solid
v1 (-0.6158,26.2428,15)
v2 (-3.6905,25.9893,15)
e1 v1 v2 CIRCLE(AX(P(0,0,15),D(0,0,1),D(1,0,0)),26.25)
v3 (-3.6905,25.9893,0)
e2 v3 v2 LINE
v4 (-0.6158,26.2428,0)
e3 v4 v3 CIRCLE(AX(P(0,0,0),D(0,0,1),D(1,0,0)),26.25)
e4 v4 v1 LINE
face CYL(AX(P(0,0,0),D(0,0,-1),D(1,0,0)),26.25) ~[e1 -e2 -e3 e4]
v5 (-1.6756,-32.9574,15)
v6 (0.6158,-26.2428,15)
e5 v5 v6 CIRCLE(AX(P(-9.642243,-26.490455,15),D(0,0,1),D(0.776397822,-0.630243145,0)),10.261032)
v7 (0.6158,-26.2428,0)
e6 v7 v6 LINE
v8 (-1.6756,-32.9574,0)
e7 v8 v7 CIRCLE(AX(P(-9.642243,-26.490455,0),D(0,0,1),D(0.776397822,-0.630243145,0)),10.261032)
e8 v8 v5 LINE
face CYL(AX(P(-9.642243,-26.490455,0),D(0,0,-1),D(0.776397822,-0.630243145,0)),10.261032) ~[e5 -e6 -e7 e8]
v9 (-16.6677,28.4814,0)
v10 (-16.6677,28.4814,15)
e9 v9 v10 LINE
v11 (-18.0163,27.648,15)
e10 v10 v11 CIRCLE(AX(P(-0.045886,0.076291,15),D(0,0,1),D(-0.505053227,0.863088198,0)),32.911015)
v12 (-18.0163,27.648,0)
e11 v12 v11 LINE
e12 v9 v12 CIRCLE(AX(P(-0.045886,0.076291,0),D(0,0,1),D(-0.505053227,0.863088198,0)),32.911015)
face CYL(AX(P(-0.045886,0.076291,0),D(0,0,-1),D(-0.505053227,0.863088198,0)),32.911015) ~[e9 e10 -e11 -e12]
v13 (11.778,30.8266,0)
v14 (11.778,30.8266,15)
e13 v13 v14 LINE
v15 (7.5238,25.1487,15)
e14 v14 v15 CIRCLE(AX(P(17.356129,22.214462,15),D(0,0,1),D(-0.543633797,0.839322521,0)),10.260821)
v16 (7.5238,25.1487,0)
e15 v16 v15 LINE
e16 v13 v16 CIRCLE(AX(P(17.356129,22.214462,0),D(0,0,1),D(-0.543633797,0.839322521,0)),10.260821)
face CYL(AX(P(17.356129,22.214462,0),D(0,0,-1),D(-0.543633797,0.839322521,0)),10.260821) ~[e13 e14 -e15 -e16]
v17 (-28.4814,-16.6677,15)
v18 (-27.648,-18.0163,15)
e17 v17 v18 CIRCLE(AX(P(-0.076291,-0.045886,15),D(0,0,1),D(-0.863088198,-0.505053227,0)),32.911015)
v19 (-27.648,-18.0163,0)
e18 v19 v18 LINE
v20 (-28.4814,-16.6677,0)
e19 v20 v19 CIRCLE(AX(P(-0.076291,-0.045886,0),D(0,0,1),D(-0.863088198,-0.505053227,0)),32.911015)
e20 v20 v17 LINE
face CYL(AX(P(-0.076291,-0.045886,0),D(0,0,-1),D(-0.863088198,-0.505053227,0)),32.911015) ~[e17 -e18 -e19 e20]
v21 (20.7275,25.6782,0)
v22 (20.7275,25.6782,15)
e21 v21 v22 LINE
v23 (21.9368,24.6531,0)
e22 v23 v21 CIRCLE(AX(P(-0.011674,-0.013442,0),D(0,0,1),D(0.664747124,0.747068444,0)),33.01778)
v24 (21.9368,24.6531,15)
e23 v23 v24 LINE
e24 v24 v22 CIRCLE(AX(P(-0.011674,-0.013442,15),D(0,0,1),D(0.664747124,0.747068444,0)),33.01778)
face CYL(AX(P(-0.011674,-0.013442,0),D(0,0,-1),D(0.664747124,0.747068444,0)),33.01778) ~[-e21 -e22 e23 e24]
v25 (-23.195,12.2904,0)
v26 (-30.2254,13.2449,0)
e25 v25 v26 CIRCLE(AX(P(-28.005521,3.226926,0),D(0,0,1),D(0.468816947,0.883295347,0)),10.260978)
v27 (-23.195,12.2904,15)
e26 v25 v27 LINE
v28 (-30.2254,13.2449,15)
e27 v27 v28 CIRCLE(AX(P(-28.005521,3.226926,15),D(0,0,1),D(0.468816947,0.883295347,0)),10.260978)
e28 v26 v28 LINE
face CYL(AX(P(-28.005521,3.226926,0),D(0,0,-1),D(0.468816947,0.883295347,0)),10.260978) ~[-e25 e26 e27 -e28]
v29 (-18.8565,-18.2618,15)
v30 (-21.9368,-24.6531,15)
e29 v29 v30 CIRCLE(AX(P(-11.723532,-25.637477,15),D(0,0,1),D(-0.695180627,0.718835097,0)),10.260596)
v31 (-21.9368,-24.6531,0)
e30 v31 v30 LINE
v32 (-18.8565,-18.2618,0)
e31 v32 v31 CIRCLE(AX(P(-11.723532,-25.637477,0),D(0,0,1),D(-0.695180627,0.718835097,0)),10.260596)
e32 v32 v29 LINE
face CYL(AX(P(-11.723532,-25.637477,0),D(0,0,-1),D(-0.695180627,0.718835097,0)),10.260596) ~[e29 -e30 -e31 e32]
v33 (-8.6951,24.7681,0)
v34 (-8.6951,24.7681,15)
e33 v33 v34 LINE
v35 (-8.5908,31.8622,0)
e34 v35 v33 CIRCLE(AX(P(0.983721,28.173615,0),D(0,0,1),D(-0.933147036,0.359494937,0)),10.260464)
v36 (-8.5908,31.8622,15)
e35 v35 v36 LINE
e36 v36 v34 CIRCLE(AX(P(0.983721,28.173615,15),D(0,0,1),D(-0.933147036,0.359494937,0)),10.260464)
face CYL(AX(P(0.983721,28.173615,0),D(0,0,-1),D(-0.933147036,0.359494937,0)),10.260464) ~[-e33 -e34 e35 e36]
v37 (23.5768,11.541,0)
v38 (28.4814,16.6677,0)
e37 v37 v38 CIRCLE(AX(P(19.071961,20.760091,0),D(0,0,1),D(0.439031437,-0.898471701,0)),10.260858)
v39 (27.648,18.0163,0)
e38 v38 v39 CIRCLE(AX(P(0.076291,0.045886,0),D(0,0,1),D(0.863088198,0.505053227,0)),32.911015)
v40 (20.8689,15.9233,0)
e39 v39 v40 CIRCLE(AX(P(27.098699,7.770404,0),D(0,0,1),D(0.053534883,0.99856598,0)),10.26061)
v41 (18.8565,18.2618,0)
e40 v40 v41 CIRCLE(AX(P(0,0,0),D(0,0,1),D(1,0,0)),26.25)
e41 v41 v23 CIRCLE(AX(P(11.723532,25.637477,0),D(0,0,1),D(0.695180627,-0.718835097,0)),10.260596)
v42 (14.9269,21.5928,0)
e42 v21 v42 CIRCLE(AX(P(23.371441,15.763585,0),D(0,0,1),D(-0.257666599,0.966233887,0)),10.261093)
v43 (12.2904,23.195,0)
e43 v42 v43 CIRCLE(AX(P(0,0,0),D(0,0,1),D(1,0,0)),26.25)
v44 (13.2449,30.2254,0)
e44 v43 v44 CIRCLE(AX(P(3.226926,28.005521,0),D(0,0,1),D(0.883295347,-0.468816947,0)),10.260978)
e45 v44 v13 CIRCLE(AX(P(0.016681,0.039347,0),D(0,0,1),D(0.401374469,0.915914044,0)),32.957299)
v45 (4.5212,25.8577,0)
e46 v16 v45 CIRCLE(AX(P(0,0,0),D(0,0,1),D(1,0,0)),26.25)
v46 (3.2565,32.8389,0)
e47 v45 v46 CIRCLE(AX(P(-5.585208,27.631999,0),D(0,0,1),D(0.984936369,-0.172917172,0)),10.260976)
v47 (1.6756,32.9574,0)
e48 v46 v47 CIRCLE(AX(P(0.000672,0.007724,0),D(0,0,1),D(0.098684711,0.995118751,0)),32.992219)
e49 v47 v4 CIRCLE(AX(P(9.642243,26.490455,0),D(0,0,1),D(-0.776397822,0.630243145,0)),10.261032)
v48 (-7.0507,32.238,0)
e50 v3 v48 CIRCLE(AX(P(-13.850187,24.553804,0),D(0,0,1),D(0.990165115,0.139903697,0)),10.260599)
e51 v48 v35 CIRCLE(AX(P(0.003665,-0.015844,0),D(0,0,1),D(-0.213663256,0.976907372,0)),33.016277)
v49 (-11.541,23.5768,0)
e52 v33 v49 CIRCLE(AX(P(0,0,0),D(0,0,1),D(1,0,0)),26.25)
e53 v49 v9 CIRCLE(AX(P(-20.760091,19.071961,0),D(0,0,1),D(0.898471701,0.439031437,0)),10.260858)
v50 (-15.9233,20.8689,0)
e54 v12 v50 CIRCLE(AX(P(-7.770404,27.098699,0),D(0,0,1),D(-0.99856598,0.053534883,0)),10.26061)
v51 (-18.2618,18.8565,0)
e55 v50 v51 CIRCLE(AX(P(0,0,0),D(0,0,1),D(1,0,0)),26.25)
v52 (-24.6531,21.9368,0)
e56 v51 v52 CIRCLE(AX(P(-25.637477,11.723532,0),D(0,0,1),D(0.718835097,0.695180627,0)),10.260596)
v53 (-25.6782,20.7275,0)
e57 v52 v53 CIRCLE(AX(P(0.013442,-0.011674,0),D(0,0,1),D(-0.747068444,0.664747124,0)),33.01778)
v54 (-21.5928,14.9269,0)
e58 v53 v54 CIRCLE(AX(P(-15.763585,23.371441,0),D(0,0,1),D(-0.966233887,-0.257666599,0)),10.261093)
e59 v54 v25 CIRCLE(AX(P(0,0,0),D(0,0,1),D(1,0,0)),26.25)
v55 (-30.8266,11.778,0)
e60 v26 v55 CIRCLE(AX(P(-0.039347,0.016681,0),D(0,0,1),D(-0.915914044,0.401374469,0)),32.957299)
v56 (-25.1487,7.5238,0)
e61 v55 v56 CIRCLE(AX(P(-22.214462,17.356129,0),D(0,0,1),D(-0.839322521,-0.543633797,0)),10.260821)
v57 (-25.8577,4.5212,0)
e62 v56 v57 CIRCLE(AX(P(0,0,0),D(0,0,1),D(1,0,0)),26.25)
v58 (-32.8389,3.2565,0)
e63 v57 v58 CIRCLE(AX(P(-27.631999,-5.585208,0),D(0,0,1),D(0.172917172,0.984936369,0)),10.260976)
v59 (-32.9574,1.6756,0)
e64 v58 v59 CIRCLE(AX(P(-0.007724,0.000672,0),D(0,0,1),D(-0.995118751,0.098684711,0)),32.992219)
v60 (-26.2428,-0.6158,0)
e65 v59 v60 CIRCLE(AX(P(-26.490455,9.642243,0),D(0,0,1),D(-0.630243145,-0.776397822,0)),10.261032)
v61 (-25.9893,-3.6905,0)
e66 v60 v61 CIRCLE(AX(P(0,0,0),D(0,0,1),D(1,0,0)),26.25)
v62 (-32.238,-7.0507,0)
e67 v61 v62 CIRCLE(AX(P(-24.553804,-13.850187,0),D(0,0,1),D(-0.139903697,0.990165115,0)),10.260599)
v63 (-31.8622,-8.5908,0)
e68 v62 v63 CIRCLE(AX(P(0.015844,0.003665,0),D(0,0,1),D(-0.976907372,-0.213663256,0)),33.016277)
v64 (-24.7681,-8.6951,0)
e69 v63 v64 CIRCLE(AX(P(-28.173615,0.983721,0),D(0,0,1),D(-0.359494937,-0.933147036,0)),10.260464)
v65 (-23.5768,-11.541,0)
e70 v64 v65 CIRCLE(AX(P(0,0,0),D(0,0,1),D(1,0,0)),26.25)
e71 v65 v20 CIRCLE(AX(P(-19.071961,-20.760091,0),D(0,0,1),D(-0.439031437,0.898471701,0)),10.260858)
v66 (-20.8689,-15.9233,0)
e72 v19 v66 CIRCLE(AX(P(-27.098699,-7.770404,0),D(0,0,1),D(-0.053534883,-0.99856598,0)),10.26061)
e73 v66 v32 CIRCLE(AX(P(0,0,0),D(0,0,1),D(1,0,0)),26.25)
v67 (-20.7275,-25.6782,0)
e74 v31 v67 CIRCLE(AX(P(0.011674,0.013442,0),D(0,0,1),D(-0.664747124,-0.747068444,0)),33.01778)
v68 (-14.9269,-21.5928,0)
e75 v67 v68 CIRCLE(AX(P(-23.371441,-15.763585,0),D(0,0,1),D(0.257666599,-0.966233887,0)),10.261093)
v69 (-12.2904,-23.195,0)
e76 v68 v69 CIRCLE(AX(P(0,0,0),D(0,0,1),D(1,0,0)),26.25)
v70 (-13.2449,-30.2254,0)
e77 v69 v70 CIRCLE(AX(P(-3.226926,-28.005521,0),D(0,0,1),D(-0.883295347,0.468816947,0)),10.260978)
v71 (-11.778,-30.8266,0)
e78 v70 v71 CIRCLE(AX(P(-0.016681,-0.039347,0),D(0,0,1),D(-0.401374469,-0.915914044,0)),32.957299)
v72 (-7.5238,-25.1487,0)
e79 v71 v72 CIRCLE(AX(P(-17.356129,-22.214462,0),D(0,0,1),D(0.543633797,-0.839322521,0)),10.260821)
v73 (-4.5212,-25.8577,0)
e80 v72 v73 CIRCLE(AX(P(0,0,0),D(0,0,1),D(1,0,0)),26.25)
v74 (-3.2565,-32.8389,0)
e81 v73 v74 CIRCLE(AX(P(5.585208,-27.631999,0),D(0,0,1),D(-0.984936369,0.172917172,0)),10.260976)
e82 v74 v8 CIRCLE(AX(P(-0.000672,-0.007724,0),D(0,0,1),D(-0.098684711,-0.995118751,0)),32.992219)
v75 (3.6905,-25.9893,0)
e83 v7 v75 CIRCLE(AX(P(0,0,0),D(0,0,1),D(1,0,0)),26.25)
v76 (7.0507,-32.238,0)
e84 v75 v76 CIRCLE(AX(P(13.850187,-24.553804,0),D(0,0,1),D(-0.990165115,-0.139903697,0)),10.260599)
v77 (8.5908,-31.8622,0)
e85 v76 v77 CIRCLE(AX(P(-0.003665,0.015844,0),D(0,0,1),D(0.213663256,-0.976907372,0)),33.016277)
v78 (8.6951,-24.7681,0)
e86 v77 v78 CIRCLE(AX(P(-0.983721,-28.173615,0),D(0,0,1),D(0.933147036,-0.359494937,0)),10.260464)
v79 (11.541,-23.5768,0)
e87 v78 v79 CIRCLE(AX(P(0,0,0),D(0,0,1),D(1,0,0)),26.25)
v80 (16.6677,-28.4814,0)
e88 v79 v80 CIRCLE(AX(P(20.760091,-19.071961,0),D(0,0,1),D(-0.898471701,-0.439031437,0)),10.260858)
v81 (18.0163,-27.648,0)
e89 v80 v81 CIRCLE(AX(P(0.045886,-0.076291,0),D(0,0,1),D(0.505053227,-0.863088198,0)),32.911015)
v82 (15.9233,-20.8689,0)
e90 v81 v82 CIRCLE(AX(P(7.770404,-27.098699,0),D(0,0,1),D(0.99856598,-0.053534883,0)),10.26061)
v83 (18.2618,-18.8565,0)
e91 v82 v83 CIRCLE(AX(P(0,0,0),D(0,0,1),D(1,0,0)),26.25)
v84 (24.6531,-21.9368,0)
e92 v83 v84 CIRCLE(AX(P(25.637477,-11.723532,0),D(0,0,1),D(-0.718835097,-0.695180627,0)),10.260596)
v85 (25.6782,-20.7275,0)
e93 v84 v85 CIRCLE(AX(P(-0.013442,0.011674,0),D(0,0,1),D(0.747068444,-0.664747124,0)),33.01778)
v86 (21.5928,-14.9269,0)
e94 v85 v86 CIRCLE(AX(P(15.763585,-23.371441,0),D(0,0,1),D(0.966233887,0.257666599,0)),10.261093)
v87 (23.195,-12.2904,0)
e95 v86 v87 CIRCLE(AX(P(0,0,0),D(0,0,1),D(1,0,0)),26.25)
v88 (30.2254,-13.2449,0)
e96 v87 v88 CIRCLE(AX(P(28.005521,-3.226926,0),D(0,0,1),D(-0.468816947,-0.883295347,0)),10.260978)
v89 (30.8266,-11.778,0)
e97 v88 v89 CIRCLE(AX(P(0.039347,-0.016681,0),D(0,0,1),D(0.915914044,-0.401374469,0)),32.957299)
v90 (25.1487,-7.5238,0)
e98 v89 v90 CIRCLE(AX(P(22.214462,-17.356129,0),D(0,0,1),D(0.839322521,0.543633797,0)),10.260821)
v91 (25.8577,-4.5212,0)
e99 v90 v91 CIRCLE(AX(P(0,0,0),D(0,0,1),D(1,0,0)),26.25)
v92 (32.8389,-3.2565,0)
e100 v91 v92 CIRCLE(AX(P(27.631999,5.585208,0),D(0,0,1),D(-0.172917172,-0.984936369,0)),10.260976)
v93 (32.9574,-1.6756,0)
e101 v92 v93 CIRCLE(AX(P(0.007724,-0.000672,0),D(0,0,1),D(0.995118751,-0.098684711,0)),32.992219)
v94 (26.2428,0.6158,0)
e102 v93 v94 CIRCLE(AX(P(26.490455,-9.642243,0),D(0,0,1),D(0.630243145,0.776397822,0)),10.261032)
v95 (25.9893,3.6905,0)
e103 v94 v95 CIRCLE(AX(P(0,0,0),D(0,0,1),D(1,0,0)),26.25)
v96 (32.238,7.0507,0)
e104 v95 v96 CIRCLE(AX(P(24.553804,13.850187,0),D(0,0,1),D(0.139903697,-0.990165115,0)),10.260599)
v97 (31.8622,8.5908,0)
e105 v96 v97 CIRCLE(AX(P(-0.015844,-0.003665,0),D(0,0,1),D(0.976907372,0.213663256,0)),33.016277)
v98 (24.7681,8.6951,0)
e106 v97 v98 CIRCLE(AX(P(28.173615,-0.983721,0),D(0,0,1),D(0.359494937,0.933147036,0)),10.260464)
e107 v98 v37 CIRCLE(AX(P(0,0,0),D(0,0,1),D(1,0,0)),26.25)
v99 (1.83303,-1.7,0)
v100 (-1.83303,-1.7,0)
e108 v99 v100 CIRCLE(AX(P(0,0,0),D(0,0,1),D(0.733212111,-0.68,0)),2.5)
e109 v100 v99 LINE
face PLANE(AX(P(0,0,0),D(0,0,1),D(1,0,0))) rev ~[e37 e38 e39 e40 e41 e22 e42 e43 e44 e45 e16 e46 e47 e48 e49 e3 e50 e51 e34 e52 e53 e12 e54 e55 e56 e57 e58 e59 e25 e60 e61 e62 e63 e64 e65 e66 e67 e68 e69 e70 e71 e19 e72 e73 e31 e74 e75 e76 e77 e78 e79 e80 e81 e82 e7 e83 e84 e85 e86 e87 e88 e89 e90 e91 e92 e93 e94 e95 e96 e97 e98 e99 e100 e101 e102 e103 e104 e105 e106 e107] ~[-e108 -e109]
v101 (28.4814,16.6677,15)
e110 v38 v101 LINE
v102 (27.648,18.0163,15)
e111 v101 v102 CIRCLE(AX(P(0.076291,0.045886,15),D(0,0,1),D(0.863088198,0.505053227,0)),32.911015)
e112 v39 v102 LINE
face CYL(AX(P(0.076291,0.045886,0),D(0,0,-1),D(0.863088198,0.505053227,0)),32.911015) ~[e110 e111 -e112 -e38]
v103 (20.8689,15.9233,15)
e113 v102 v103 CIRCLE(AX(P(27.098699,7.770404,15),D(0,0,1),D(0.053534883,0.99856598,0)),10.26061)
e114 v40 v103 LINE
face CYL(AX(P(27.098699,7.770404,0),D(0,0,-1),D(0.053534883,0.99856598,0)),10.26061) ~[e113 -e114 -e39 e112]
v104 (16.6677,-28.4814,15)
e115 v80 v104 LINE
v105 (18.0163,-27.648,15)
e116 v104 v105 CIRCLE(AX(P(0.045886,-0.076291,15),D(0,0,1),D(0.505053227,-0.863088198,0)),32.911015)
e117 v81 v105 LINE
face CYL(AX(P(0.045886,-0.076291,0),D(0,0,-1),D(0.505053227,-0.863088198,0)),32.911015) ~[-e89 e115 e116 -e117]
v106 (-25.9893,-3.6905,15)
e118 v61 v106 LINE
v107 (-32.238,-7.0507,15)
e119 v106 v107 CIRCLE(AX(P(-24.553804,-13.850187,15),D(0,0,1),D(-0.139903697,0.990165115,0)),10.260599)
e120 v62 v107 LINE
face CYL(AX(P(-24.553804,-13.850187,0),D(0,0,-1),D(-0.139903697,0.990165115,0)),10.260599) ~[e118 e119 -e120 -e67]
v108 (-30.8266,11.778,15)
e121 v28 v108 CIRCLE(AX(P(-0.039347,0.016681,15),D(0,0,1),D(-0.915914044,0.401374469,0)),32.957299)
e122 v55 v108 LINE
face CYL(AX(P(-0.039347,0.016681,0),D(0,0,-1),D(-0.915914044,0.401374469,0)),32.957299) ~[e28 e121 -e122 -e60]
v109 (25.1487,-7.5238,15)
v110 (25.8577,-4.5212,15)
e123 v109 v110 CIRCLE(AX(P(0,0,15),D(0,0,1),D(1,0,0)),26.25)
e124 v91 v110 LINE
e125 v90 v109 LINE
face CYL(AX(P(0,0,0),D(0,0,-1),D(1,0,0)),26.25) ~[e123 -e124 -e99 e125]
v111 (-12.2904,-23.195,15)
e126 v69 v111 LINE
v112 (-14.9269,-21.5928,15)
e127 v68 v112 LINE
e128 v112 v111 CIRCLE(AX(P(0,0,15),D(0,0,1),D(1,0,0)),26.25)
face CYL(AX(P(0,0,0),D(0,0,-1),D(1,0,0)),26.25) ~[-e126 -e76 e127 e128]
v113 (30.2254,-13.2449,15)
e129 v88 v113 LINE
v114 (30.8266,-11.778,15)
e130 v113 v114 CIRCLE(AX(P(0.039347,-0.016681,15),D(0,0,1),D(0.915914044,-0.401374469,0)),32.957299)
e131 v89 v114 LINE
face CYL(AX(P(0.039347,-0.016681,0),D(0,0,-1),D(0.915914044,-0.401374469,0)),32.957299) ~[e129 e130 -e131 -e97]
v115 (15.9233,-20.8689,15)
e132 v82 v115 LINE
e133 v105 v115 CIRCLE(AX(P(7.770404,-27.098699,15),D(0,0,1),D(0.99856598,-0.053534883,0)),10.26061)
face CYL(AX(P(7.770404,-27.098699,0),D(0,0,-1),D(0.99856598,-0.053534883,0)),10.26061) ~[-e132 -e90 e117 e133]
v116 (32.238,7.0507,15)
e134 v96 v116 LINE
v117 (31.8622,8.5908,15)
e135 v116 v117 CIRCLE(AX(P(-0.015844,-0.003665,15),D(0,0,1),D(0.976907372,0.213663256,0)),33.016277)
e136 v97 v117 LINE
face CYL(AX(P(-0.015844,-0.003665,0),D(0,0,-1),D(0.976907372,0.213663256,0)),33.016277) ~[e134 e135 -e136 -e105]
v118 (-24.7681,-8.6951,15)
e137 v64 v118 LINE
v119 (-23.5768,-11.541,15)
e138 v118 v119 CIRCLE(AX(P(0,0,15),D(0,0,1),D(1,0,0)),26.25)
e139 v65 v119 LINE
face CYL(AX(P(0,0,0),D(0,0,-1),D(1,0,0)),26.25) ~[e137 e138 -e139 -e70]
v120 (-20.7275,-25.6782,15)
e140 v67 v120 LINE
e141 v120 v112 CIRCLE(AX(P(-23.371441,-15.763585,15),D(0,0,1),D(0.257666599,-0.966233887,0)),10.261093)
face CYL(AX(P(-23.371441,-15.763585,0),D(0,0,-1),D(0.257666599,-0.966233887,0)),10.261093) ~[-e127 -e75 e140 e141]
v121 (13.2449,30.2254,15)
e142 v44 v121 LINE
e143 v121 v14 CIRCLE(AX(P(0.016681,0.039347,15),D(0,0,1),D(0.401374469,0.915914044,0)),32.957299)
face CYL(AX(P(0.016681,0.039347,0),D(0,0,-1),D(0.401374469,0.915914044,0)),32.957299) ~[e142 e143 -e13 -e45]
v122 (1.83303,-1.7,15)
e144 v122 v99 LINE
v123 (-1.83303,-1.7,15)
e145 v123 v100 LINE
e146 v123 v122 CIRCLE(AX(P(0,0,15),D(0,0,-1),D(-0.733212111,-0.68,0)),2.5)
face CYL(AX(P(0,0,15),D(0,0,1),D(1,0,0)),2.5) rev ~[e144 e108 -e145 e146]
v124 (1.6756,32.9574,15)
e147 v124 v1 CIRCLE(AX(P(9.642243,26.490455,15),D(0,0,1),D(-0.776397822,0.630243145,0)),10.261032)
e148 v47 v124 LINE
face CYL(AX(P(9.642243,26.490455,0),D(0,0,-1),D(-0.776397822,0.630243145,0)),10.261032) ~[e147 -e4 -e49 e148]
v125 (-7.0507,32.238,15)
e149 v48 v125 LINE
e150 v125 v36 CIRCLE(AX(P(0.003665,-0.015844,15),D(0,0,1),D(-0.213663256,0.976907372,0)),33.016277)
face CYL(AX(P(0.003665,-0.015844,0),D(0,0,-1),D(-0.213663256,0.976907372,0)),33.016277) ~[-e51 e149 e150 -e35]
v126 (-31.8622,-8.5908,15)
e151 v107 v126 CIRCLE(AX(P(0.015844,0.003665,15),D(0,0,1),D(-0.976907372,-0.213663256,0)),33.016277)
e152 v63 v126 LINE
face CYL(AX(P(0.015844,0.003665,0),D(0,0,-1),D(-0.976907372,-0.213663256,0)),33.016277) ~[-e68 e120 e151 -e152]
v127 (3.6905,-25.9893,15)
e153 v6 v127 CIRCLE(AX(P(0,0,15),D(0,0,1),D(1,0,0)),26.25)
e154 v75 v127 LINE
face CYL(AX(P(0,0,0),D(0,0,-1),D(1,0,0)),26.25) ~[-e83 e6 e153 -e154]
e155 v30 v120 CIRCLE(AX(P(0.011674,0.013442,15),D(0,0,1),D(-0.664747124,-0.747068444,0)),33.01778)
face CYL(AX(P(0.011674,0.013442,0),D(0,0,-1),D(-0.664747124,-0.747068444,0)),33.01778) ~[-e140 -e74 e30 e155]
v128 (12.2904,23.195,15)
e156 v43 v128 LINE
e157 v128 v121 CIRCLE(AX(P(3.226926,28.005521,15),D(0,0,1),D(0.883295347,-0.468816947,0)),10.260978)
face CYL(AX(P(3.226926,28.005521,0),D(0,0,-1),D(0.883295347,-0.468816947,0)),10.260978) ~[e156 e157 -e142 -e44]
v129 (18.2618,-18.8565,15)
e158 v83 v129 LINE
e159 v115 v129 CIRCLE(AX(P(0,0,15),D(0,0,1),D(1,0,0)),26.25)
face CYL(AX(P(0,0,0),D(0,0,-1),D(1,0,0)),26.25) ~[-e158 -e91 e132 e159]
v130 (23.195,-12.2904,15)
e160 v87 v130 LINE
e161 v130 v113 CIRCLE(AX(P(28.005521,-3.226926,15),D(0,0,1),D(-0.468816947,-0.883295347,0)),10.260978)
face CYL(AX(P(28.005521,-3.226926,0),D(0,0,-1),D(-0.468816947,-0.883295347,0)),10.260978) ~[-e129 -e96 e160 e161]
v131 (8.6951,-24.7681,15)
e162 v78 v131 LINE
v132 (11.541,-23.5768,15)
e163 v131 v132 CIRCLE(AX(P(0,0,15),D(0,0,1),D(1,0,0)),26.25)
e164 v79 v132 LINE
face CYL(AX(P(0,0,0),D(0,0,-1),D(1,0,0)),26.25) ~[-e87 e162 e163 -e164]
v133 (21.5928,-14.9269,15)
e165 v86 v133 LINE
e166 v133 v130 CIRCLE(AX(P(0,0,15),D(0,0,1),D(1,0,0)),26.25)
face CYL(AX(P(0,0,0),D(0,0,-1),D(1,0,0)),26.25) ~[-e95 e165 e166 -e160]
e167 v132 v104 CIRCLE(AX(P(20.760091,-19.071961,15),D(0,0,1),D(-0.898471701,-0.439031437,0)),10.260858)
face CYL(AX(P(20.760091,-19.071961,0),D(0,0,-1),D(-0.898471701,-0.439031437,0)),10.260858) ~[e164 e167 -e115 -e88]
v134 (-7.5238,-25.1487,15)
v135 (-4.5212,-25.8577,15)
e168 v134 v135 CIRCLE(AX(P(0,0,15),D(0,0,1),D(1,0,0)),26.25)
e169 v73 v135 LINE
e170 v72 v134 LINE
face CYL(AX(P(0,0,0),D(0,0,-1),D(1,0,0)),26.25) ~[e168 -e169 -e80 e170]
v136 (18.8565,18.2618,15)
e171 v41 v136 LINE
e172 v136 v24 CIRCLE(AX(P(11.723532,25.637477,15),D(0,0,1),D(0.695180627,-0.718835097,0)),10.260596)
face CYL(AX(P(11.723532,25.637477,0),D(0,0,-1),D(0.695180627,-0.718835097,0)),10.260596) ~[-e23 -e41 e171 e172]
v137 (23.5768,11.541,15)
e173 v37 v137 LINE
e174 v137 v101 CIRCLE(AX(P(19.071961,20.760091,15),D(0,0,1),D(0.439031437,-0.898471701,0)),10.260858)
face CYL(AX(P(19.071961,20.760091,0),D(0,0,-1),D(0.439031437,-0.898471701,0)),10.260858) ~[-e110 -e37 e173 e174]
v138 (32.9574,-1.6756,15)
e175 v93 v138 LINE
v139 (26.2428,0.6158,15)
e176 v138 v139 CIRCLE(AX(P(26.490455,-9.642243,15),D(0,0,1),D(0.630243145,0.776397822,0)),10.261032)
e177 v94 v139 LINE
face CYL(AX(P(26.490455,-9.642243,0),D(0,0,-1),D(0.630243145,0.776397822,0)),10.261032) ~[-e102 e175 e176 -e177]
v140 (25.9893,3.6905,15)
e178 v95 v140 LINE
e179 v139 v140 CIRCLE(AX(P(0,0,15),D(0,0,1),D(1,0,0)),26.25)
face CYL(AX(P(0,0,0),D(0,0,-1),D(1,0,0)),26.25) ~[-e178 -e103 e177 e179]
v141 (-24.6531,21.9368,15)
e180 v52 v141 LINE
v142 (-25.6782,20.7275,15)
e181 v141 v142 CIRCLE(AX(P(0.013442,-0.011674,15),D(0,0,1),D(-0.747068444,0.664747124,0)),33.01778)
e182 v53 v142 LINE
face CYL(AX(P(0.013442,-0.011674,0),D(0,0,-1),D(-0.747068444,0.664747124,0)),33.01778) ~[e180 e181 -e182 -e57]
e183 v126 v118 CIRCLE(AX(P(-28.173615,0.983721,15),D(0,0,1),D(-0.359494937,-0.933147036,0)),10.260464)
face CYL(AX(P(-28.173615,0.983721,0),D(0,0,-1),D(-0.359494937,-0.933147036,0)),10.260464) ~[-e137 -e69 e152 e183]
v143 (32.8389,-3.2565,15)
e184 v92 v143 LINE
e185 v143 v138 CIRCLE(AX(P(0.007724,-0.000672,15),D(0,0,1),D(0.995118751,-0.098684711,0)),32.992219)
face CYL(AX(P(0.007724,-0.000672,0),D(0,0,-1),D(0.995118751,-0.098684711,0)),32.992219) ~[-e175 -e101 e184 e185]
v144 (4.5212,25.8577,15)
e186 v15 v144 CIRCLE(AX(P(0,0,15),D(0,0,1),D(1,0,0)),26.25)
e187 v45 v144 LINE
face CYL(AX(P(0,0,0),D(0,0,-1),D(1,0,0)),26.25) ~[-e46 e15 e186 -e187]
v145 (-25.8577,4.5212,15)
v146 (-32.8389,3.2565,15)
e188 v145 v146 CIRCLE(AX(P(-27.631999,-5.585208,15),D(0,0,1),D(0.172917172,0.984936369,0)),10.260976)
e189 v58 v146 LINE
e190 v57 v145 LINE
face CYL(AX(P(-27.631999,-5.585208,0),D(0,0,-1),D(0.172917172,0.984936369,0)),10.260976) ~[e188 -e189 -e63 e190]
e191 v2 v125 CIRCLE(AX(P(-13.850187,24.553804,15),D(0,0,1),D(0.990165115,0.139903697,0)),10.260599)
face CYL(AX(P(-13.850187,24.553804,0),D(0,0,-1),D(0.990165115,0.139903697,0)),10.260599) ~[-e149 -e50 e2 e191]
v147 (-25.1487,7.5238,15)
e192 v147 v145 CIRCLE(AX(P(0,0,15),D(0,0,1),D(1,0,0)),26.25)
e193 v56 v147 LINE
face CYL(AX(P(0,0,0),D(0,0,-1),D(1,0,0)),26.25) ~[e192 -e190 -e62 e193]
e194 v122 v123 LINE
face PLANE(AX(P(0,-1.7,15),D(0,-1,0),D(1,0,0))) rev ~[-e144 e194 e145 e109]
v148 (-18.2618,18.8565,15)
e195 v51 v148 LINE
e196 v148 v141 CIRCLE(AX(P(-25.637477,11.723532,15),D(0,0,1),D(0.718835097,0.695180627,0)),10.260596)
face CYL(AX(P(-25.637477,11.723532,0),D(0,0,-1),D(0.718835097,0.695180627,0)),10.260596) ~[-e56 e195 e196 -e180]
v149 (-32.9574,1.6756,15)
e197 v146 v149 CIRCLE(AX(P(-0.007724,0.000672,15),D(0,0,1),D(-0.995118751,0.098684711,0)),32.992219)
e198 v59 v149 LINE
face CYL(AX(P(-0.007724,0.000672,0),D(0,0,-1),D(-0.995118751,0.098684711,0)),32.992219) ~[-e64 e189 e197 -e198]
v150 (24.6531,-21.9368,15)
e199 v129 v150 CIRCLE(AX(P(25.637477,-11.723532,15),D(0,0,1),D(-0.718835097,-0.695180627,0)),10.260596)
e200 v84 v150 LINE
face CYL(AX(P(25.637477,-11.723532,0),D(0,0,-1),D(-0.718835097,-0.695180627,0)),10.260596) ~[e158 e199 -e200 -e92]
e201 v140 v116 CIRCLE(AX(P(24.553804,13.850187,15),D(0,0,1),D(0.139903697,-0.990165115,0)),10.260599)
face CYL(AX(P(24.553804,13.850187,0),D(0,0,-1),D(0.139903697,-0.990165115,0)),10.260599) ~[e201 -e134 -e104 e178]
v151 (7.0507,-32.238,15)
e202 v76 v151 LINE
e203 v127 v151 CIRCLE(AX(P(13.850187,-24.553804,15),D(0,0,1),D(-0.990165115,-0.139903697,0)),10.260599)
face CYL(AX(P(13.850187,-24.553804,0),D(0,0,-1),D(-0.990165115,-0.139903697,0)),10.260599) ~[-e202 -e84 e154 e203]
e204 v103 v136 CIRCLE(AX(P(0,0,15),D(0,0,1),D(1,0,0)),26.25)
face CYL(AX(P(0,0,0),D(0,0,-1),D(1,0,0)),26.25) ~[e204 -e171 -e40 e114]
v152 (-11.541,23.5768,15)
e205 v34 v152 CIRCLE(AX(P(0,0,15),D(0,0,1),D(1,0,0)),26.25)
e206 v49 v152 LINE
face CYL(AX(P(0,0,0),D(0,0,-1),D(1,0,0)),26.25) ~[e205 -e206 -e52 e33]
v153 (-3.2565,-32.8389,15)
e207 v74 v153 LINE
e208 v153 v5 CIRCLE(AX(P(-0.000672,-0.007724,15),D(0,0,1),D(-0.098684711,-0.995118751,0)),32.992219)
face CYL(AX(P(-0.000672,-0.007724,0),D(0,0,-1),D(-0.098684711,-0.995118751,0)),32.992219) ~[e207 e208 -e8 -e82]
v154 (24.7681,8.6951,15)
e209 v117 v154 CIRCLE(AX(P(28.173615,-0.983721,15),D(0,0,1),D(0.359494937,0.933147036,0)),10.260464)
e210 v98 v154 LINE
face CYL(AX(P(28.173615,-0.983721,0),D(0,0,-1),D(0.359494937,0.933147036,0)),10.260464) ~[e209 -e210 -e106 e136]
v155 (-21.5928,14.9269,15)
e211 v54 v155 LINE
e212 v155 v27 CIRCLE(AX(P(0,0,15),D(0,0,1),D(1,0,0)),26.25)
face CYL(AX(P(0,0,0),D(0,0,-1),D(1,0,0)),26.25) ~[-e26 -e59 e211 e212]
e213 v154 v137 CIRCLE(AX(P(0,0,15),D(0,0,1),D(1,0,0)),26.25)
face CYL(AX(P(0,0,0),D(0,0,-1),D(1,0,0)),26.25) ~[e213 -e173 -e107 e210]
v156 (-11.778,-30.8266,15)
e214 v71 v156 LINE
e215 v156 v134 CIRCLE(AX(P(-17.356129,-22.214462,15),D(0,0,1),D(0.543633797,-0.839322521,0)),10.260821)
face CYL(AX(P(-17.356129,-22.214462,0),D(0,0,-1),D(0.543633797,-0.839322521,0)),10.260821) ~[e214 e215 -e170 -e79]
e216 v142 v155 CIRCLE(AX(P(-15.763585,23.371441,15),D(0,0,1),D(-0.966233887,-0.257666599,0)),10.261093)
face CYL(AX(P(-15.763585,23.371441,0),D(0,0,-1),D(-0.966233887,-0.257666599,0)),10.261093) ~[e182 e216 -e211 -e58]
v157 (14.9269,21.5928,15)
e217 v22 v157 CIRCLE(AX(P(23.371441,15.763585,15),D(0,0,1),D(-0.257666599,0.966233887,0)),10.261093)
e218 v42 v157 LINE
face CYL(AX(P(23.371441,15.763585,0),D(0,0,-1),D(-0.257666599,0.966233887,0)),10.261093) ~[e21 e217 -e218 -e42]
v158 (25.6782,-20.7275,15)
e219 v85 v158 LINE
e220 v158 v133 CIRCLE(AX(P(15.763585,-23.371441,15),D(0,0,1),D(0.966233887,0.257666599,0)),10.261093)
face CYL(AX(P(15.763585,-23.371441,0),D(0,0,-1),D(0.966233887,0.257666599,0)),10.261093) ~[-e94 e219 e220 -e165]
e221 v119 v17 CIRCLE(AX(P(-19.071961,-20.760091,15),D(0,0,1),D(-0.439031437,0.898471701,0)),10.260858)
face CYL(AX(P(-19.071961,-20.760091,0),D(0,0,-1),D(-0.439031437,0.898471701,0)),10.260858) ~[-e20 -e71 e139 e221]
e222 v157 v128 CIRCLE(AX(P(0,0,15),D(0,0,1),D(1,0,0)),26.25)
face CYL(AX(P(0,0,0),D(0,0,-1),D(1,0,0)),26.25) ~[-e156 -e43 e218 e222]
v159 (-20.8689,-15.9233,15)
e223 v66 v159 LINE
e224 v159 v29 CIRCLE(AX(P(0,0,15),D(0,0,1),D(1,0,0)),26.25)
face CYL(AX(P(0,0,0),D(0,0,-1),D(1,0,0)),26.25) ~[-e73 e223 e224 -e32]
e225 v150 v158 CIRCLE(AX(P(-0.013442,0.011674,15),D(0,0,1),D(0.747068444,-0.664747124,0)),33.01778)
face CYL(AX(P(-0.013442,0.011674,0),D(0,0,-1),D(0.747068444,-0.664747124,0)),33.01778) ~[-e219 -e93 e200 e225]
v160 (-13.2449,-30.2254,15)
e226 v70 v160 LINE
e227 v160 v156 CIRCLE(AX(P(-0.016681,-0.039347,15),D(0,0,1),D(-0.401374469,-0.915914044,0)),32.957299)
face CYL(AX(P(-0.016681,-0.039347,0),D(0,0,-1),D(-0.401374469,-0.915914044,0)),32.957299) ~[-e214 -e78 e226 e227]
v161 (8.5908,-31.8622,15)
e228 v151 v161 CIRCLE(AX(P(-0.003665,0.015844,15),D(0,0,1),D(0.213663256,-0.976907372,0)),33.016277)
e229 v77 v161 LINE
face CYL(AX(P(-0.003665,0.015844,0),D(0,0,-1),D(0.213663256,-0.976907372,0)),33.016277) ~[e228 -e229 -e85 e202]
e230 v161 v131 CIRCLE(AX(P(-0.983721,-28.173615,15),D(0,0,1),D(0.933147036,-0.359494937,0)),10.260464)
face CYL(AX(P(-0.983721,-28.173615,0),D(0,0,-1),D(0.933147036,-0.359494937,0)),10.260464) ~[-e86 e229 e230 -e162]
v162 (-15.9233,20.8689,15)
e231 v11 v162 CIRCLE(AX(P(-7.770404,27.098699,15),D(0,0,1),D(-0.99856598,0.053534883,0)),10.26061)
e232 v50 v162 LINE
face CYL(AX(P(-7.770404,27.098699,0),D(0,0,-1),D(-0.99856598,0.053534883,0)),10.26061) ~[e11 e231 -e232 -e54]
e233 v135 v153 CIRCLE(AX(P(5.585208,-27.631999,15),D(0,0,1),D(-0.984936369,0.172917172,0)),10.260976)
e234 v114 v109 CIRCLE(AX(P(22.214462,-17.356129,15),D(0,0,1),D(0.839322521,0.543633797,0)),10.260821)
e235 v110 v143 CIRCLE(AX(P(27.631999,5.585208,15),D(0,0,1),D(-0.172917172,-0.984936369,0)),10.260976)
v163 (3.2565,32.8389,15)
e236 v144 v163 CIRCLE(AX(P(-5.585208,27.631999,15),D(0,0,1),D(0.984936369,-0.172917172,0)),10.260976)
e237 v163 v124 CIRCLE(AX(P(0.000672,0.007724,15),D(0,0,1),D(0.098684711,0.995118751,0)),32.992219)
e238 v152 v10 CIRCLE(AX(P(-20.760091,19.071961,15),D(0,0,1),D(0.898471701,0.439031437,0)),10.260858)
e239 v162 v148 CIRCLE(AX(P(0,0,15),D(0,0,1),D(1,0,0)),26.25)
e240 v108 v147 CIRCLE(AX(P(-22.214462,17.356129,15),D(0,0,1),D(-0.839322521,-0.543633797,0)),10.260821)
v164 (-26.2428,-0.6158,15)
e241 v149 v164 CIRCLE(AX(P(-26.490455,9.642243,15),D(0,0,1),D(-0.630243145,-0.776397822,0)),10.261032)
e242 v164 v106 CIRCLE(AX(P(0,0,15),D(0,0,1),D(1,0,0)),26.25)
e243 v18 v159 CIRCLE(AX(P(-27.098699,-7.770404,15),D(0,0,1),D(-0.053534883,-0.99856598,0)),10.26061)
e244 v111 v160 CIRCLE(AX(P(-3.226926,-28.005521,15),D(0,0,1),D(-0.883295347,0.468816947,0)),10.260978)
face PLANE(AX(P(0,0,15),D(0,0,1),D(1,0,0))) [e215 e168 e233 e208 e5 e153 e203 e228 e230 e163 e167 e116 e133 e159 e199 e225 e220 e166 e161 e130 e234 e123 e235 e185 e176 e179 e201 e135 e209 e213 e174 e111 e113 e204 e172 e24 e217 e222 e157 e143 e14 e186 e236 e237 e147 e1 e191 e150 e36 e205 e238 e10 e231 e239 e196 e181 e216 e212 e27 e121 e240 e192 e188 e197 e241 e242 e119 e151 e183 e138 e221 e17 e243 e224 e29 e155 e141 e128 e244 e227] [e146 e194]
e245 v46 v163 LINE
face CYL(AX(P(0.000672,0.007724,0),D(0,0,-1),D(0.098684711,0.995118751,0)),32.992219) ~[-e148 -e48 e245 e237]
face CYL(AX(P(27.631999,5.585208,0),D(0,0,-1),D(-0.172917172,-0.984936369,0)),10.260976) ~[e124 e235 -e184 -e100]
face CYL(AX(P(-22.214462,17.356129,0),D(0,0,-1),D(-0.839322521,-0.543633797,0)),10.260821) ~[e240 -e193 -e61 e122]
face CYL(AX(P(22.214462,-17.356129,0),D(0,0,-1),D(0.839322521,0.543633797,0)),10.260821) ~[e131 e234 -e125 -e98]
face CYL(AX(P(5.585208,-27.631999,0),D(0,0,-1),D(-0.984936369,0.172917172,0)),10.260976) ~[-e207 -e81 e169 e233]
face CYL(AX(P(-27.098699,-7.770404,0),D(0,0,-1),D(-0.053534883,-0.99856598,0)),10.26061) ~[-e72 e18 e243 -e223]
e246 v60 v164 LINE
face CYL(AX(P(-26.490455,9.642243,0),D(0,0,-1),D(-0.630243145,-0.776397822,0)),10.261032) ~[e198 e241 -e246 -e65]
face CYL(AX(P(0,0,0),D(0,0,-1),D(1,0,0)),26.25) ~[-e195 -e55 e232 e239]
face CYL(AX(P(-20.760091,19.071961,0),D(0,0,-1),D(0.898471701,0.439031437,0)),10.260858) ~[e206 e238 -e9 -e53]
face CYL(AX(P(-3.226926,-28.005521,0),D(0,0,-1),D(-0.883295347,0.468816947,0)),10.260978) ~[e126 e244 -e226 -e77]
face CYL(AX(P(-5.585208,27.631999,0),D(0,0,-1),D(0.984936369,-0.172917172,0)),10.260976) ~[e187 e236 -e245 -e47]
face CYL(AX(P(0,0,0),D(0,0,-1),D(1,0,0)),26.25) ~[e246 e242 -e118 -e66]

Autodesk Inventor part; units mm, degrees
ref_plane "YZ Plane" through (0, 0, 0) normal (1, 0, 0) x (0, 1, 0)
ref_plane "XZ Plane" through (0, 0, 0) normal (0, 1, 0) x (-1, 0, 0)
ref_plane "XY Plane" through (0, 0, 0) normal (0, 0, 1) x (1, 0, 0)
sketch "Sketch1" plane through (0, 0, 0) normal (0, 0, 1) x (1, 0, 0)
  arc A0 (32.8389, -3.2565) -> (32.9574, -1.6756) centre (0, 0) ccw
  circle A1 centre (0, 0) radius 26.25
  line L0 (0, 0) -> (42.2346, 0) construction
  line L1 (0, 0) -> (37.3319, 0) construction
  arc A2 (32.9574, -1.6756) -> (26.2428, 0.6158) centre (26.4907, -9.6418) ccw
  line L2 (0, 0) -> (41.4252, 0) construction
  arc A3 (25.8577, -4.5212) -> (32.8389, -3.2565) centre (27.632, 5.5848) ccw
  arc A4 (32.238, 7.0507) -> (31.8622, 8.5908) centre (0, 0) ccw
  arc A5 (31.8622, 8.5908) -> (24.7681, 8.6951) centre (28.1736, -0.9838) ccw
  arc A6 (25.9893, 3.6905) -> (32.238, 7.0507) centre (24.5538, 13.8502) ccw
  arc A7 (28.4814, 16.6677) -> (27.648, 18.0163) centre (0, 0) ccw
  arc A8 (27.648, 18.0163) -> (20.8689, 15.9233) centre (27.0987, 7.7704) ccw
  arc A9 (23.5768, 11.541) -> (28.4814, 16.6677) centre (19.0721, 20.7599) ccw
  arc A10 (21.9368, 24.6531) -> (20.7275, 25.6782) centre (0, 0) ccw
  arc A11 (20.7275, 25.6782) -> (14.9269, 21.5928) centre (23.3712, 15.7641) ccw
  arc A12 (18.8565, 18.2618) -> (21.9368, 24.6531) centre (11.7235, 25.6375) ccw
  arc A13 (13.2449, 30.2254) -> (11.778, 30.8266) centre (0, 0) ccw
  arc A14 (11.778, 30.8266) -> (7.5238, 25.1487) centre (17.356, 22.2146) ccw
  arc A15 (12.2904, 23.195) -> (13.2449, 30.2254) centre (3.2273, 28.0054) ccw
  arc A16 (3.2565, 32.8389) -> (1.6756, 32.9574) centre (0, 0) ccw
  arc A17 (1.6756, 32.9574) -> (-0.6158, 26.2428) centre (9.6418, 26.4907) ccw
  arc A18 (4.5212, 25.8577) -> (3.2565, 32.8389) centre (-5.5848, 27.632) ccw
  arc A19 (-7.0507, 32.238) -> (-8.5908, 31.8622) centre (0, 0) ccw
  arc A20 (-8.5908, 31.8622) -> (-8.6951, 24.7681) centre (0.9838, 28.1736) ccw
  arc A21 (-3.6905, 25.9893) -> (-7.0507, 32.238) centre (-13.8502, 24.5538) ccw
  arc A22 (-16.6677, 28.4814) -> (-18.0163, 27.648) centre (0, 0) ccw
  arc A23 (-18.0163, 27.648) -> (-15.9233, 20.8689) centre (-7.7704, 27.0987) ccw
  arc A24 (-11.541, 23.5768) -> (-16.6677, 28.4814) centre (-20.7599, 19.0721) ccw
  arc A25 (-24.6531, 21.9368) -> (-25.6782, 20.7275) centre (0, 0) ccw
  arc A26 (-25.6782, 20.7275) -> (-21.5928, 14.9269) centre (-15.7641, 23.3712) ccw
  arc A27 (-18.2618, 18.8565) -> (-24.6531, 21.9368) centre (-25.6375, 11.7235) ccw
  arc A28 (-30.2254, 13.2449) -> (-30.8266, 11.778) centre (0, 0) ccw
  arc A29 (-30.8266, 11.778) -> (-25.1487, 7.5238) centre (-22.2146, 17.356) ccw
  arc A30 (-23.195, 12.2904) -> (-30.2254, 13.2449) centre (-28.0054, 3.2273) ccw
  arc A31 (-32.8389, 3.2565) -> (-32.9574, 1.6756) centre (0, 0) ccw
  arc A32 (-32.9574, 1.6756) -> (-26.2428, -0.6158) centre (-26.4907, 9.6418) ccw
  arc A33 (-25.8577, 4.5212) -> (-32.8389, 3.2565) centre (-27.632, -5.5848) ccw
  arc A34 (-32.238, -7.0507) -> (-31.8622, -8.5908) centre (0, 0) ccw
  arc A35 (-31.8622, -8.5908) -> (-24.7681, -8.6951) centre (-28.1736, 0.9838) ccw
  arc A36 (-25.9893, -3.6905) -> (-32.238, -7.0507) centre (-24.5538, -13.8502) ccw
  arc A37 (-28.4814, -16.6677) -> (-27.648, -18.0163) centre (0, 0) ccw
  arc A38 (-27.648, -18.0163) -> (-20.8689, -15.9233) centre (-27.0987, -7.7704) ccw
  arc A39 (-23.5768, -11.541) -> (-28.4814, -16.6677) centre (-19.0721, -20.7599) ccw
  arc A40 (-21.9368, -24.6531) -> (-20.7275, -25.6782) centre (0, 0) ccw
  arc A41 (-20.7275, -25.6782) -> (-14.9269, -21.5928) centre (-23.3712, -15.7641) ccw
  arc A42 (-18.8565, -18.2618) -> (-21.9368, -24.6531) centre (-11.7235, -25.6375) ccw
  arc A43 (-13.2449, -30.2254) -> (-11.778, -30.8266) centre (0, 0) ccw
  arc A44 (-11.778, -30.8266) -> (-7.5238, -25.1487) centre (-17.356, -22.2146) ccw
  arc A45 (-12.2904, -23.195) -> (-13.2449, -30.2254) centre (-3.2273, -28.0054) ccw
  arc A46 (-3.2565, -32.8389) -> (-1.6756, -32.9574) centre (0, 0) ccw
  arc A47 (-1.6756, -32.9574) -> (0.6158, -26.2428) centre (-9.6418, -26.4907) ccw
  arc A48 (-4.5212, -25.8577) -> (-3.2565, -32.8389) centre (5.5848, -27.632) ccw
  arc A49 (7.0507, -32.238) -> (8.5908, -31.8622) centre (0, 0) ccw
  arc A50 (8.5908, -31.8622) -> (8.6951, -24.7681) centre (-0.9838, -28.1736) ccw
  arc A51 (3.6905, -25.9893) -> (7.0507, -32.238) centre (13.8502, -24.5538) ccw
  arc A52 (16.6677, -28.4814) -> (18.0163, -27.648) centre (0, 0) ccw
  arc A53 (18.0163, -27.648) -> (15.9233, -20.8689) centre (7.7704, -27.0987) ccw
  arc A54 (11.541, -23.5768) -> (16.6677, -28.4814) centre (20.7599, -19.0721) ccw
  arc A55 (24.6531, -21.9368) -> (25.6782, -20.7275) centre (0, 0) ccw
  arc A56 (25.6782, -20.7275) -> (21.5928, -14.9269) centre (15.7641, -23.3712) ccw
  arc A57 (18.2618, -18.8565) -> (24.6531, -21.9368) centre (25.6375, -11.7235) ccw
  arc A58 (30.2254, -13.2449) -> (30.8266, -11.778) centre (0, 0) ccw
  arc A59 (30.8266, -11.778) -> (25.1487, -7.5238) centre (22.2146, -17.356) ccw
  arc A60 (23.195, -12.2904) -> (30.2254, -13.2449) centre (28.0054, -3.2273) ccw
  point P0 (35.5048, 11.5362)
  point P1 (30.2022, 21.9432)
  point P2 (21.9432, 30.2022)
  point P3 (11.5362, 35.5048)
  point P4 (0, 37.3319)
  point P5 (-11.5362, 35.5048)
  point P6 (-21.9432, 30.2022)
  point P7 (-30.2022, 21.9432)
  point P8 (-35.5048, 11.5362)
  point P9 (-37.3319, 0)
  point P10 (-35.5048, -11.5362)
  point P11 (-30.2022, -21.9432)
  point P12 (-21.9432, -30.2022)
  point P13 (-11.5362, -35.5048)
  point P14 (0, -37.3319)
  point P15 (11.5362, -35.5048)
  point P16 (21.9432, -30.2022)
  point P17 (30.2022, -21.9432)
  point P18 (35.5048, -11.5362)
  point P19 (-14.9269, -21.5928)
  point P20 (-12.2904, -23.195)
  point P21 (-7.5238, -25.1487)
  point P22 (0.6158, -26.2428)
  point P23 (3.6905, -25.9893)
  point P24 (18.2618, -18.8565)
  point P25 (21.5928, -14.9269)
  point P26 (23.195, -12.2904)
  point P27 (25.1487, -7.5238)
  point P28 (25.9893, 3.6905)
  point P29 (20.8689, 15.9233)
  point P30 (18.8565, 18.2618)
  point P31 (14.9269, 21.5928)
  point P32 (7.5238, 25.1487)
  point P33 (-0.6158, 26.2428)
  point P34 (-3.6905, 25.9893)
  point P35 (-15.9233, 20.8689)
  point P36 (-18.2618, 18.8565)
  point P37 (-21.5928, 14.9269)
  point P38 (-23.195, 12.2904)
  point P39 (-25.1487, 7.5238)
  point P40 (-26.2428, -0.6158)
  point P41 (-24.7681, -8.6951)
  point P42 (-20.8689, -15.9233)
  point P43 (-18.8565, -18.2618)
  dimension "d2" = 52.5
  dimension "d1" = 66
  dimension "d13" = 360
extrude "Extrusion1" add sketch "Sketch1" along normal blind 15
sketch "Sketch2" plane through (0, 0, 15) normal (0, 0, 1) x (1, 0, 0)
  circle A0 centre (0, 0) radius 2.5
  line L0 (0, 2.5) -> (0, -1.7)
  line L1 (0, -1.7) -> (-3.9911, -1.7)
  line L2 (-3.9911, -1.7) -> (4.1911, -1.7)
  point P0 (1.833, -1.7)
  point P1 (-1.833, -1.7)
  dimension "d17" = 5
  dimension "d22" = 4.2
extrude "Extrusion2" cut sketch "Sketch2" against normal blind 15 contours A0 L2 L0 | L0 L1 A0
properties part number "ENGRANE MOTRIZ DE CAJA"
